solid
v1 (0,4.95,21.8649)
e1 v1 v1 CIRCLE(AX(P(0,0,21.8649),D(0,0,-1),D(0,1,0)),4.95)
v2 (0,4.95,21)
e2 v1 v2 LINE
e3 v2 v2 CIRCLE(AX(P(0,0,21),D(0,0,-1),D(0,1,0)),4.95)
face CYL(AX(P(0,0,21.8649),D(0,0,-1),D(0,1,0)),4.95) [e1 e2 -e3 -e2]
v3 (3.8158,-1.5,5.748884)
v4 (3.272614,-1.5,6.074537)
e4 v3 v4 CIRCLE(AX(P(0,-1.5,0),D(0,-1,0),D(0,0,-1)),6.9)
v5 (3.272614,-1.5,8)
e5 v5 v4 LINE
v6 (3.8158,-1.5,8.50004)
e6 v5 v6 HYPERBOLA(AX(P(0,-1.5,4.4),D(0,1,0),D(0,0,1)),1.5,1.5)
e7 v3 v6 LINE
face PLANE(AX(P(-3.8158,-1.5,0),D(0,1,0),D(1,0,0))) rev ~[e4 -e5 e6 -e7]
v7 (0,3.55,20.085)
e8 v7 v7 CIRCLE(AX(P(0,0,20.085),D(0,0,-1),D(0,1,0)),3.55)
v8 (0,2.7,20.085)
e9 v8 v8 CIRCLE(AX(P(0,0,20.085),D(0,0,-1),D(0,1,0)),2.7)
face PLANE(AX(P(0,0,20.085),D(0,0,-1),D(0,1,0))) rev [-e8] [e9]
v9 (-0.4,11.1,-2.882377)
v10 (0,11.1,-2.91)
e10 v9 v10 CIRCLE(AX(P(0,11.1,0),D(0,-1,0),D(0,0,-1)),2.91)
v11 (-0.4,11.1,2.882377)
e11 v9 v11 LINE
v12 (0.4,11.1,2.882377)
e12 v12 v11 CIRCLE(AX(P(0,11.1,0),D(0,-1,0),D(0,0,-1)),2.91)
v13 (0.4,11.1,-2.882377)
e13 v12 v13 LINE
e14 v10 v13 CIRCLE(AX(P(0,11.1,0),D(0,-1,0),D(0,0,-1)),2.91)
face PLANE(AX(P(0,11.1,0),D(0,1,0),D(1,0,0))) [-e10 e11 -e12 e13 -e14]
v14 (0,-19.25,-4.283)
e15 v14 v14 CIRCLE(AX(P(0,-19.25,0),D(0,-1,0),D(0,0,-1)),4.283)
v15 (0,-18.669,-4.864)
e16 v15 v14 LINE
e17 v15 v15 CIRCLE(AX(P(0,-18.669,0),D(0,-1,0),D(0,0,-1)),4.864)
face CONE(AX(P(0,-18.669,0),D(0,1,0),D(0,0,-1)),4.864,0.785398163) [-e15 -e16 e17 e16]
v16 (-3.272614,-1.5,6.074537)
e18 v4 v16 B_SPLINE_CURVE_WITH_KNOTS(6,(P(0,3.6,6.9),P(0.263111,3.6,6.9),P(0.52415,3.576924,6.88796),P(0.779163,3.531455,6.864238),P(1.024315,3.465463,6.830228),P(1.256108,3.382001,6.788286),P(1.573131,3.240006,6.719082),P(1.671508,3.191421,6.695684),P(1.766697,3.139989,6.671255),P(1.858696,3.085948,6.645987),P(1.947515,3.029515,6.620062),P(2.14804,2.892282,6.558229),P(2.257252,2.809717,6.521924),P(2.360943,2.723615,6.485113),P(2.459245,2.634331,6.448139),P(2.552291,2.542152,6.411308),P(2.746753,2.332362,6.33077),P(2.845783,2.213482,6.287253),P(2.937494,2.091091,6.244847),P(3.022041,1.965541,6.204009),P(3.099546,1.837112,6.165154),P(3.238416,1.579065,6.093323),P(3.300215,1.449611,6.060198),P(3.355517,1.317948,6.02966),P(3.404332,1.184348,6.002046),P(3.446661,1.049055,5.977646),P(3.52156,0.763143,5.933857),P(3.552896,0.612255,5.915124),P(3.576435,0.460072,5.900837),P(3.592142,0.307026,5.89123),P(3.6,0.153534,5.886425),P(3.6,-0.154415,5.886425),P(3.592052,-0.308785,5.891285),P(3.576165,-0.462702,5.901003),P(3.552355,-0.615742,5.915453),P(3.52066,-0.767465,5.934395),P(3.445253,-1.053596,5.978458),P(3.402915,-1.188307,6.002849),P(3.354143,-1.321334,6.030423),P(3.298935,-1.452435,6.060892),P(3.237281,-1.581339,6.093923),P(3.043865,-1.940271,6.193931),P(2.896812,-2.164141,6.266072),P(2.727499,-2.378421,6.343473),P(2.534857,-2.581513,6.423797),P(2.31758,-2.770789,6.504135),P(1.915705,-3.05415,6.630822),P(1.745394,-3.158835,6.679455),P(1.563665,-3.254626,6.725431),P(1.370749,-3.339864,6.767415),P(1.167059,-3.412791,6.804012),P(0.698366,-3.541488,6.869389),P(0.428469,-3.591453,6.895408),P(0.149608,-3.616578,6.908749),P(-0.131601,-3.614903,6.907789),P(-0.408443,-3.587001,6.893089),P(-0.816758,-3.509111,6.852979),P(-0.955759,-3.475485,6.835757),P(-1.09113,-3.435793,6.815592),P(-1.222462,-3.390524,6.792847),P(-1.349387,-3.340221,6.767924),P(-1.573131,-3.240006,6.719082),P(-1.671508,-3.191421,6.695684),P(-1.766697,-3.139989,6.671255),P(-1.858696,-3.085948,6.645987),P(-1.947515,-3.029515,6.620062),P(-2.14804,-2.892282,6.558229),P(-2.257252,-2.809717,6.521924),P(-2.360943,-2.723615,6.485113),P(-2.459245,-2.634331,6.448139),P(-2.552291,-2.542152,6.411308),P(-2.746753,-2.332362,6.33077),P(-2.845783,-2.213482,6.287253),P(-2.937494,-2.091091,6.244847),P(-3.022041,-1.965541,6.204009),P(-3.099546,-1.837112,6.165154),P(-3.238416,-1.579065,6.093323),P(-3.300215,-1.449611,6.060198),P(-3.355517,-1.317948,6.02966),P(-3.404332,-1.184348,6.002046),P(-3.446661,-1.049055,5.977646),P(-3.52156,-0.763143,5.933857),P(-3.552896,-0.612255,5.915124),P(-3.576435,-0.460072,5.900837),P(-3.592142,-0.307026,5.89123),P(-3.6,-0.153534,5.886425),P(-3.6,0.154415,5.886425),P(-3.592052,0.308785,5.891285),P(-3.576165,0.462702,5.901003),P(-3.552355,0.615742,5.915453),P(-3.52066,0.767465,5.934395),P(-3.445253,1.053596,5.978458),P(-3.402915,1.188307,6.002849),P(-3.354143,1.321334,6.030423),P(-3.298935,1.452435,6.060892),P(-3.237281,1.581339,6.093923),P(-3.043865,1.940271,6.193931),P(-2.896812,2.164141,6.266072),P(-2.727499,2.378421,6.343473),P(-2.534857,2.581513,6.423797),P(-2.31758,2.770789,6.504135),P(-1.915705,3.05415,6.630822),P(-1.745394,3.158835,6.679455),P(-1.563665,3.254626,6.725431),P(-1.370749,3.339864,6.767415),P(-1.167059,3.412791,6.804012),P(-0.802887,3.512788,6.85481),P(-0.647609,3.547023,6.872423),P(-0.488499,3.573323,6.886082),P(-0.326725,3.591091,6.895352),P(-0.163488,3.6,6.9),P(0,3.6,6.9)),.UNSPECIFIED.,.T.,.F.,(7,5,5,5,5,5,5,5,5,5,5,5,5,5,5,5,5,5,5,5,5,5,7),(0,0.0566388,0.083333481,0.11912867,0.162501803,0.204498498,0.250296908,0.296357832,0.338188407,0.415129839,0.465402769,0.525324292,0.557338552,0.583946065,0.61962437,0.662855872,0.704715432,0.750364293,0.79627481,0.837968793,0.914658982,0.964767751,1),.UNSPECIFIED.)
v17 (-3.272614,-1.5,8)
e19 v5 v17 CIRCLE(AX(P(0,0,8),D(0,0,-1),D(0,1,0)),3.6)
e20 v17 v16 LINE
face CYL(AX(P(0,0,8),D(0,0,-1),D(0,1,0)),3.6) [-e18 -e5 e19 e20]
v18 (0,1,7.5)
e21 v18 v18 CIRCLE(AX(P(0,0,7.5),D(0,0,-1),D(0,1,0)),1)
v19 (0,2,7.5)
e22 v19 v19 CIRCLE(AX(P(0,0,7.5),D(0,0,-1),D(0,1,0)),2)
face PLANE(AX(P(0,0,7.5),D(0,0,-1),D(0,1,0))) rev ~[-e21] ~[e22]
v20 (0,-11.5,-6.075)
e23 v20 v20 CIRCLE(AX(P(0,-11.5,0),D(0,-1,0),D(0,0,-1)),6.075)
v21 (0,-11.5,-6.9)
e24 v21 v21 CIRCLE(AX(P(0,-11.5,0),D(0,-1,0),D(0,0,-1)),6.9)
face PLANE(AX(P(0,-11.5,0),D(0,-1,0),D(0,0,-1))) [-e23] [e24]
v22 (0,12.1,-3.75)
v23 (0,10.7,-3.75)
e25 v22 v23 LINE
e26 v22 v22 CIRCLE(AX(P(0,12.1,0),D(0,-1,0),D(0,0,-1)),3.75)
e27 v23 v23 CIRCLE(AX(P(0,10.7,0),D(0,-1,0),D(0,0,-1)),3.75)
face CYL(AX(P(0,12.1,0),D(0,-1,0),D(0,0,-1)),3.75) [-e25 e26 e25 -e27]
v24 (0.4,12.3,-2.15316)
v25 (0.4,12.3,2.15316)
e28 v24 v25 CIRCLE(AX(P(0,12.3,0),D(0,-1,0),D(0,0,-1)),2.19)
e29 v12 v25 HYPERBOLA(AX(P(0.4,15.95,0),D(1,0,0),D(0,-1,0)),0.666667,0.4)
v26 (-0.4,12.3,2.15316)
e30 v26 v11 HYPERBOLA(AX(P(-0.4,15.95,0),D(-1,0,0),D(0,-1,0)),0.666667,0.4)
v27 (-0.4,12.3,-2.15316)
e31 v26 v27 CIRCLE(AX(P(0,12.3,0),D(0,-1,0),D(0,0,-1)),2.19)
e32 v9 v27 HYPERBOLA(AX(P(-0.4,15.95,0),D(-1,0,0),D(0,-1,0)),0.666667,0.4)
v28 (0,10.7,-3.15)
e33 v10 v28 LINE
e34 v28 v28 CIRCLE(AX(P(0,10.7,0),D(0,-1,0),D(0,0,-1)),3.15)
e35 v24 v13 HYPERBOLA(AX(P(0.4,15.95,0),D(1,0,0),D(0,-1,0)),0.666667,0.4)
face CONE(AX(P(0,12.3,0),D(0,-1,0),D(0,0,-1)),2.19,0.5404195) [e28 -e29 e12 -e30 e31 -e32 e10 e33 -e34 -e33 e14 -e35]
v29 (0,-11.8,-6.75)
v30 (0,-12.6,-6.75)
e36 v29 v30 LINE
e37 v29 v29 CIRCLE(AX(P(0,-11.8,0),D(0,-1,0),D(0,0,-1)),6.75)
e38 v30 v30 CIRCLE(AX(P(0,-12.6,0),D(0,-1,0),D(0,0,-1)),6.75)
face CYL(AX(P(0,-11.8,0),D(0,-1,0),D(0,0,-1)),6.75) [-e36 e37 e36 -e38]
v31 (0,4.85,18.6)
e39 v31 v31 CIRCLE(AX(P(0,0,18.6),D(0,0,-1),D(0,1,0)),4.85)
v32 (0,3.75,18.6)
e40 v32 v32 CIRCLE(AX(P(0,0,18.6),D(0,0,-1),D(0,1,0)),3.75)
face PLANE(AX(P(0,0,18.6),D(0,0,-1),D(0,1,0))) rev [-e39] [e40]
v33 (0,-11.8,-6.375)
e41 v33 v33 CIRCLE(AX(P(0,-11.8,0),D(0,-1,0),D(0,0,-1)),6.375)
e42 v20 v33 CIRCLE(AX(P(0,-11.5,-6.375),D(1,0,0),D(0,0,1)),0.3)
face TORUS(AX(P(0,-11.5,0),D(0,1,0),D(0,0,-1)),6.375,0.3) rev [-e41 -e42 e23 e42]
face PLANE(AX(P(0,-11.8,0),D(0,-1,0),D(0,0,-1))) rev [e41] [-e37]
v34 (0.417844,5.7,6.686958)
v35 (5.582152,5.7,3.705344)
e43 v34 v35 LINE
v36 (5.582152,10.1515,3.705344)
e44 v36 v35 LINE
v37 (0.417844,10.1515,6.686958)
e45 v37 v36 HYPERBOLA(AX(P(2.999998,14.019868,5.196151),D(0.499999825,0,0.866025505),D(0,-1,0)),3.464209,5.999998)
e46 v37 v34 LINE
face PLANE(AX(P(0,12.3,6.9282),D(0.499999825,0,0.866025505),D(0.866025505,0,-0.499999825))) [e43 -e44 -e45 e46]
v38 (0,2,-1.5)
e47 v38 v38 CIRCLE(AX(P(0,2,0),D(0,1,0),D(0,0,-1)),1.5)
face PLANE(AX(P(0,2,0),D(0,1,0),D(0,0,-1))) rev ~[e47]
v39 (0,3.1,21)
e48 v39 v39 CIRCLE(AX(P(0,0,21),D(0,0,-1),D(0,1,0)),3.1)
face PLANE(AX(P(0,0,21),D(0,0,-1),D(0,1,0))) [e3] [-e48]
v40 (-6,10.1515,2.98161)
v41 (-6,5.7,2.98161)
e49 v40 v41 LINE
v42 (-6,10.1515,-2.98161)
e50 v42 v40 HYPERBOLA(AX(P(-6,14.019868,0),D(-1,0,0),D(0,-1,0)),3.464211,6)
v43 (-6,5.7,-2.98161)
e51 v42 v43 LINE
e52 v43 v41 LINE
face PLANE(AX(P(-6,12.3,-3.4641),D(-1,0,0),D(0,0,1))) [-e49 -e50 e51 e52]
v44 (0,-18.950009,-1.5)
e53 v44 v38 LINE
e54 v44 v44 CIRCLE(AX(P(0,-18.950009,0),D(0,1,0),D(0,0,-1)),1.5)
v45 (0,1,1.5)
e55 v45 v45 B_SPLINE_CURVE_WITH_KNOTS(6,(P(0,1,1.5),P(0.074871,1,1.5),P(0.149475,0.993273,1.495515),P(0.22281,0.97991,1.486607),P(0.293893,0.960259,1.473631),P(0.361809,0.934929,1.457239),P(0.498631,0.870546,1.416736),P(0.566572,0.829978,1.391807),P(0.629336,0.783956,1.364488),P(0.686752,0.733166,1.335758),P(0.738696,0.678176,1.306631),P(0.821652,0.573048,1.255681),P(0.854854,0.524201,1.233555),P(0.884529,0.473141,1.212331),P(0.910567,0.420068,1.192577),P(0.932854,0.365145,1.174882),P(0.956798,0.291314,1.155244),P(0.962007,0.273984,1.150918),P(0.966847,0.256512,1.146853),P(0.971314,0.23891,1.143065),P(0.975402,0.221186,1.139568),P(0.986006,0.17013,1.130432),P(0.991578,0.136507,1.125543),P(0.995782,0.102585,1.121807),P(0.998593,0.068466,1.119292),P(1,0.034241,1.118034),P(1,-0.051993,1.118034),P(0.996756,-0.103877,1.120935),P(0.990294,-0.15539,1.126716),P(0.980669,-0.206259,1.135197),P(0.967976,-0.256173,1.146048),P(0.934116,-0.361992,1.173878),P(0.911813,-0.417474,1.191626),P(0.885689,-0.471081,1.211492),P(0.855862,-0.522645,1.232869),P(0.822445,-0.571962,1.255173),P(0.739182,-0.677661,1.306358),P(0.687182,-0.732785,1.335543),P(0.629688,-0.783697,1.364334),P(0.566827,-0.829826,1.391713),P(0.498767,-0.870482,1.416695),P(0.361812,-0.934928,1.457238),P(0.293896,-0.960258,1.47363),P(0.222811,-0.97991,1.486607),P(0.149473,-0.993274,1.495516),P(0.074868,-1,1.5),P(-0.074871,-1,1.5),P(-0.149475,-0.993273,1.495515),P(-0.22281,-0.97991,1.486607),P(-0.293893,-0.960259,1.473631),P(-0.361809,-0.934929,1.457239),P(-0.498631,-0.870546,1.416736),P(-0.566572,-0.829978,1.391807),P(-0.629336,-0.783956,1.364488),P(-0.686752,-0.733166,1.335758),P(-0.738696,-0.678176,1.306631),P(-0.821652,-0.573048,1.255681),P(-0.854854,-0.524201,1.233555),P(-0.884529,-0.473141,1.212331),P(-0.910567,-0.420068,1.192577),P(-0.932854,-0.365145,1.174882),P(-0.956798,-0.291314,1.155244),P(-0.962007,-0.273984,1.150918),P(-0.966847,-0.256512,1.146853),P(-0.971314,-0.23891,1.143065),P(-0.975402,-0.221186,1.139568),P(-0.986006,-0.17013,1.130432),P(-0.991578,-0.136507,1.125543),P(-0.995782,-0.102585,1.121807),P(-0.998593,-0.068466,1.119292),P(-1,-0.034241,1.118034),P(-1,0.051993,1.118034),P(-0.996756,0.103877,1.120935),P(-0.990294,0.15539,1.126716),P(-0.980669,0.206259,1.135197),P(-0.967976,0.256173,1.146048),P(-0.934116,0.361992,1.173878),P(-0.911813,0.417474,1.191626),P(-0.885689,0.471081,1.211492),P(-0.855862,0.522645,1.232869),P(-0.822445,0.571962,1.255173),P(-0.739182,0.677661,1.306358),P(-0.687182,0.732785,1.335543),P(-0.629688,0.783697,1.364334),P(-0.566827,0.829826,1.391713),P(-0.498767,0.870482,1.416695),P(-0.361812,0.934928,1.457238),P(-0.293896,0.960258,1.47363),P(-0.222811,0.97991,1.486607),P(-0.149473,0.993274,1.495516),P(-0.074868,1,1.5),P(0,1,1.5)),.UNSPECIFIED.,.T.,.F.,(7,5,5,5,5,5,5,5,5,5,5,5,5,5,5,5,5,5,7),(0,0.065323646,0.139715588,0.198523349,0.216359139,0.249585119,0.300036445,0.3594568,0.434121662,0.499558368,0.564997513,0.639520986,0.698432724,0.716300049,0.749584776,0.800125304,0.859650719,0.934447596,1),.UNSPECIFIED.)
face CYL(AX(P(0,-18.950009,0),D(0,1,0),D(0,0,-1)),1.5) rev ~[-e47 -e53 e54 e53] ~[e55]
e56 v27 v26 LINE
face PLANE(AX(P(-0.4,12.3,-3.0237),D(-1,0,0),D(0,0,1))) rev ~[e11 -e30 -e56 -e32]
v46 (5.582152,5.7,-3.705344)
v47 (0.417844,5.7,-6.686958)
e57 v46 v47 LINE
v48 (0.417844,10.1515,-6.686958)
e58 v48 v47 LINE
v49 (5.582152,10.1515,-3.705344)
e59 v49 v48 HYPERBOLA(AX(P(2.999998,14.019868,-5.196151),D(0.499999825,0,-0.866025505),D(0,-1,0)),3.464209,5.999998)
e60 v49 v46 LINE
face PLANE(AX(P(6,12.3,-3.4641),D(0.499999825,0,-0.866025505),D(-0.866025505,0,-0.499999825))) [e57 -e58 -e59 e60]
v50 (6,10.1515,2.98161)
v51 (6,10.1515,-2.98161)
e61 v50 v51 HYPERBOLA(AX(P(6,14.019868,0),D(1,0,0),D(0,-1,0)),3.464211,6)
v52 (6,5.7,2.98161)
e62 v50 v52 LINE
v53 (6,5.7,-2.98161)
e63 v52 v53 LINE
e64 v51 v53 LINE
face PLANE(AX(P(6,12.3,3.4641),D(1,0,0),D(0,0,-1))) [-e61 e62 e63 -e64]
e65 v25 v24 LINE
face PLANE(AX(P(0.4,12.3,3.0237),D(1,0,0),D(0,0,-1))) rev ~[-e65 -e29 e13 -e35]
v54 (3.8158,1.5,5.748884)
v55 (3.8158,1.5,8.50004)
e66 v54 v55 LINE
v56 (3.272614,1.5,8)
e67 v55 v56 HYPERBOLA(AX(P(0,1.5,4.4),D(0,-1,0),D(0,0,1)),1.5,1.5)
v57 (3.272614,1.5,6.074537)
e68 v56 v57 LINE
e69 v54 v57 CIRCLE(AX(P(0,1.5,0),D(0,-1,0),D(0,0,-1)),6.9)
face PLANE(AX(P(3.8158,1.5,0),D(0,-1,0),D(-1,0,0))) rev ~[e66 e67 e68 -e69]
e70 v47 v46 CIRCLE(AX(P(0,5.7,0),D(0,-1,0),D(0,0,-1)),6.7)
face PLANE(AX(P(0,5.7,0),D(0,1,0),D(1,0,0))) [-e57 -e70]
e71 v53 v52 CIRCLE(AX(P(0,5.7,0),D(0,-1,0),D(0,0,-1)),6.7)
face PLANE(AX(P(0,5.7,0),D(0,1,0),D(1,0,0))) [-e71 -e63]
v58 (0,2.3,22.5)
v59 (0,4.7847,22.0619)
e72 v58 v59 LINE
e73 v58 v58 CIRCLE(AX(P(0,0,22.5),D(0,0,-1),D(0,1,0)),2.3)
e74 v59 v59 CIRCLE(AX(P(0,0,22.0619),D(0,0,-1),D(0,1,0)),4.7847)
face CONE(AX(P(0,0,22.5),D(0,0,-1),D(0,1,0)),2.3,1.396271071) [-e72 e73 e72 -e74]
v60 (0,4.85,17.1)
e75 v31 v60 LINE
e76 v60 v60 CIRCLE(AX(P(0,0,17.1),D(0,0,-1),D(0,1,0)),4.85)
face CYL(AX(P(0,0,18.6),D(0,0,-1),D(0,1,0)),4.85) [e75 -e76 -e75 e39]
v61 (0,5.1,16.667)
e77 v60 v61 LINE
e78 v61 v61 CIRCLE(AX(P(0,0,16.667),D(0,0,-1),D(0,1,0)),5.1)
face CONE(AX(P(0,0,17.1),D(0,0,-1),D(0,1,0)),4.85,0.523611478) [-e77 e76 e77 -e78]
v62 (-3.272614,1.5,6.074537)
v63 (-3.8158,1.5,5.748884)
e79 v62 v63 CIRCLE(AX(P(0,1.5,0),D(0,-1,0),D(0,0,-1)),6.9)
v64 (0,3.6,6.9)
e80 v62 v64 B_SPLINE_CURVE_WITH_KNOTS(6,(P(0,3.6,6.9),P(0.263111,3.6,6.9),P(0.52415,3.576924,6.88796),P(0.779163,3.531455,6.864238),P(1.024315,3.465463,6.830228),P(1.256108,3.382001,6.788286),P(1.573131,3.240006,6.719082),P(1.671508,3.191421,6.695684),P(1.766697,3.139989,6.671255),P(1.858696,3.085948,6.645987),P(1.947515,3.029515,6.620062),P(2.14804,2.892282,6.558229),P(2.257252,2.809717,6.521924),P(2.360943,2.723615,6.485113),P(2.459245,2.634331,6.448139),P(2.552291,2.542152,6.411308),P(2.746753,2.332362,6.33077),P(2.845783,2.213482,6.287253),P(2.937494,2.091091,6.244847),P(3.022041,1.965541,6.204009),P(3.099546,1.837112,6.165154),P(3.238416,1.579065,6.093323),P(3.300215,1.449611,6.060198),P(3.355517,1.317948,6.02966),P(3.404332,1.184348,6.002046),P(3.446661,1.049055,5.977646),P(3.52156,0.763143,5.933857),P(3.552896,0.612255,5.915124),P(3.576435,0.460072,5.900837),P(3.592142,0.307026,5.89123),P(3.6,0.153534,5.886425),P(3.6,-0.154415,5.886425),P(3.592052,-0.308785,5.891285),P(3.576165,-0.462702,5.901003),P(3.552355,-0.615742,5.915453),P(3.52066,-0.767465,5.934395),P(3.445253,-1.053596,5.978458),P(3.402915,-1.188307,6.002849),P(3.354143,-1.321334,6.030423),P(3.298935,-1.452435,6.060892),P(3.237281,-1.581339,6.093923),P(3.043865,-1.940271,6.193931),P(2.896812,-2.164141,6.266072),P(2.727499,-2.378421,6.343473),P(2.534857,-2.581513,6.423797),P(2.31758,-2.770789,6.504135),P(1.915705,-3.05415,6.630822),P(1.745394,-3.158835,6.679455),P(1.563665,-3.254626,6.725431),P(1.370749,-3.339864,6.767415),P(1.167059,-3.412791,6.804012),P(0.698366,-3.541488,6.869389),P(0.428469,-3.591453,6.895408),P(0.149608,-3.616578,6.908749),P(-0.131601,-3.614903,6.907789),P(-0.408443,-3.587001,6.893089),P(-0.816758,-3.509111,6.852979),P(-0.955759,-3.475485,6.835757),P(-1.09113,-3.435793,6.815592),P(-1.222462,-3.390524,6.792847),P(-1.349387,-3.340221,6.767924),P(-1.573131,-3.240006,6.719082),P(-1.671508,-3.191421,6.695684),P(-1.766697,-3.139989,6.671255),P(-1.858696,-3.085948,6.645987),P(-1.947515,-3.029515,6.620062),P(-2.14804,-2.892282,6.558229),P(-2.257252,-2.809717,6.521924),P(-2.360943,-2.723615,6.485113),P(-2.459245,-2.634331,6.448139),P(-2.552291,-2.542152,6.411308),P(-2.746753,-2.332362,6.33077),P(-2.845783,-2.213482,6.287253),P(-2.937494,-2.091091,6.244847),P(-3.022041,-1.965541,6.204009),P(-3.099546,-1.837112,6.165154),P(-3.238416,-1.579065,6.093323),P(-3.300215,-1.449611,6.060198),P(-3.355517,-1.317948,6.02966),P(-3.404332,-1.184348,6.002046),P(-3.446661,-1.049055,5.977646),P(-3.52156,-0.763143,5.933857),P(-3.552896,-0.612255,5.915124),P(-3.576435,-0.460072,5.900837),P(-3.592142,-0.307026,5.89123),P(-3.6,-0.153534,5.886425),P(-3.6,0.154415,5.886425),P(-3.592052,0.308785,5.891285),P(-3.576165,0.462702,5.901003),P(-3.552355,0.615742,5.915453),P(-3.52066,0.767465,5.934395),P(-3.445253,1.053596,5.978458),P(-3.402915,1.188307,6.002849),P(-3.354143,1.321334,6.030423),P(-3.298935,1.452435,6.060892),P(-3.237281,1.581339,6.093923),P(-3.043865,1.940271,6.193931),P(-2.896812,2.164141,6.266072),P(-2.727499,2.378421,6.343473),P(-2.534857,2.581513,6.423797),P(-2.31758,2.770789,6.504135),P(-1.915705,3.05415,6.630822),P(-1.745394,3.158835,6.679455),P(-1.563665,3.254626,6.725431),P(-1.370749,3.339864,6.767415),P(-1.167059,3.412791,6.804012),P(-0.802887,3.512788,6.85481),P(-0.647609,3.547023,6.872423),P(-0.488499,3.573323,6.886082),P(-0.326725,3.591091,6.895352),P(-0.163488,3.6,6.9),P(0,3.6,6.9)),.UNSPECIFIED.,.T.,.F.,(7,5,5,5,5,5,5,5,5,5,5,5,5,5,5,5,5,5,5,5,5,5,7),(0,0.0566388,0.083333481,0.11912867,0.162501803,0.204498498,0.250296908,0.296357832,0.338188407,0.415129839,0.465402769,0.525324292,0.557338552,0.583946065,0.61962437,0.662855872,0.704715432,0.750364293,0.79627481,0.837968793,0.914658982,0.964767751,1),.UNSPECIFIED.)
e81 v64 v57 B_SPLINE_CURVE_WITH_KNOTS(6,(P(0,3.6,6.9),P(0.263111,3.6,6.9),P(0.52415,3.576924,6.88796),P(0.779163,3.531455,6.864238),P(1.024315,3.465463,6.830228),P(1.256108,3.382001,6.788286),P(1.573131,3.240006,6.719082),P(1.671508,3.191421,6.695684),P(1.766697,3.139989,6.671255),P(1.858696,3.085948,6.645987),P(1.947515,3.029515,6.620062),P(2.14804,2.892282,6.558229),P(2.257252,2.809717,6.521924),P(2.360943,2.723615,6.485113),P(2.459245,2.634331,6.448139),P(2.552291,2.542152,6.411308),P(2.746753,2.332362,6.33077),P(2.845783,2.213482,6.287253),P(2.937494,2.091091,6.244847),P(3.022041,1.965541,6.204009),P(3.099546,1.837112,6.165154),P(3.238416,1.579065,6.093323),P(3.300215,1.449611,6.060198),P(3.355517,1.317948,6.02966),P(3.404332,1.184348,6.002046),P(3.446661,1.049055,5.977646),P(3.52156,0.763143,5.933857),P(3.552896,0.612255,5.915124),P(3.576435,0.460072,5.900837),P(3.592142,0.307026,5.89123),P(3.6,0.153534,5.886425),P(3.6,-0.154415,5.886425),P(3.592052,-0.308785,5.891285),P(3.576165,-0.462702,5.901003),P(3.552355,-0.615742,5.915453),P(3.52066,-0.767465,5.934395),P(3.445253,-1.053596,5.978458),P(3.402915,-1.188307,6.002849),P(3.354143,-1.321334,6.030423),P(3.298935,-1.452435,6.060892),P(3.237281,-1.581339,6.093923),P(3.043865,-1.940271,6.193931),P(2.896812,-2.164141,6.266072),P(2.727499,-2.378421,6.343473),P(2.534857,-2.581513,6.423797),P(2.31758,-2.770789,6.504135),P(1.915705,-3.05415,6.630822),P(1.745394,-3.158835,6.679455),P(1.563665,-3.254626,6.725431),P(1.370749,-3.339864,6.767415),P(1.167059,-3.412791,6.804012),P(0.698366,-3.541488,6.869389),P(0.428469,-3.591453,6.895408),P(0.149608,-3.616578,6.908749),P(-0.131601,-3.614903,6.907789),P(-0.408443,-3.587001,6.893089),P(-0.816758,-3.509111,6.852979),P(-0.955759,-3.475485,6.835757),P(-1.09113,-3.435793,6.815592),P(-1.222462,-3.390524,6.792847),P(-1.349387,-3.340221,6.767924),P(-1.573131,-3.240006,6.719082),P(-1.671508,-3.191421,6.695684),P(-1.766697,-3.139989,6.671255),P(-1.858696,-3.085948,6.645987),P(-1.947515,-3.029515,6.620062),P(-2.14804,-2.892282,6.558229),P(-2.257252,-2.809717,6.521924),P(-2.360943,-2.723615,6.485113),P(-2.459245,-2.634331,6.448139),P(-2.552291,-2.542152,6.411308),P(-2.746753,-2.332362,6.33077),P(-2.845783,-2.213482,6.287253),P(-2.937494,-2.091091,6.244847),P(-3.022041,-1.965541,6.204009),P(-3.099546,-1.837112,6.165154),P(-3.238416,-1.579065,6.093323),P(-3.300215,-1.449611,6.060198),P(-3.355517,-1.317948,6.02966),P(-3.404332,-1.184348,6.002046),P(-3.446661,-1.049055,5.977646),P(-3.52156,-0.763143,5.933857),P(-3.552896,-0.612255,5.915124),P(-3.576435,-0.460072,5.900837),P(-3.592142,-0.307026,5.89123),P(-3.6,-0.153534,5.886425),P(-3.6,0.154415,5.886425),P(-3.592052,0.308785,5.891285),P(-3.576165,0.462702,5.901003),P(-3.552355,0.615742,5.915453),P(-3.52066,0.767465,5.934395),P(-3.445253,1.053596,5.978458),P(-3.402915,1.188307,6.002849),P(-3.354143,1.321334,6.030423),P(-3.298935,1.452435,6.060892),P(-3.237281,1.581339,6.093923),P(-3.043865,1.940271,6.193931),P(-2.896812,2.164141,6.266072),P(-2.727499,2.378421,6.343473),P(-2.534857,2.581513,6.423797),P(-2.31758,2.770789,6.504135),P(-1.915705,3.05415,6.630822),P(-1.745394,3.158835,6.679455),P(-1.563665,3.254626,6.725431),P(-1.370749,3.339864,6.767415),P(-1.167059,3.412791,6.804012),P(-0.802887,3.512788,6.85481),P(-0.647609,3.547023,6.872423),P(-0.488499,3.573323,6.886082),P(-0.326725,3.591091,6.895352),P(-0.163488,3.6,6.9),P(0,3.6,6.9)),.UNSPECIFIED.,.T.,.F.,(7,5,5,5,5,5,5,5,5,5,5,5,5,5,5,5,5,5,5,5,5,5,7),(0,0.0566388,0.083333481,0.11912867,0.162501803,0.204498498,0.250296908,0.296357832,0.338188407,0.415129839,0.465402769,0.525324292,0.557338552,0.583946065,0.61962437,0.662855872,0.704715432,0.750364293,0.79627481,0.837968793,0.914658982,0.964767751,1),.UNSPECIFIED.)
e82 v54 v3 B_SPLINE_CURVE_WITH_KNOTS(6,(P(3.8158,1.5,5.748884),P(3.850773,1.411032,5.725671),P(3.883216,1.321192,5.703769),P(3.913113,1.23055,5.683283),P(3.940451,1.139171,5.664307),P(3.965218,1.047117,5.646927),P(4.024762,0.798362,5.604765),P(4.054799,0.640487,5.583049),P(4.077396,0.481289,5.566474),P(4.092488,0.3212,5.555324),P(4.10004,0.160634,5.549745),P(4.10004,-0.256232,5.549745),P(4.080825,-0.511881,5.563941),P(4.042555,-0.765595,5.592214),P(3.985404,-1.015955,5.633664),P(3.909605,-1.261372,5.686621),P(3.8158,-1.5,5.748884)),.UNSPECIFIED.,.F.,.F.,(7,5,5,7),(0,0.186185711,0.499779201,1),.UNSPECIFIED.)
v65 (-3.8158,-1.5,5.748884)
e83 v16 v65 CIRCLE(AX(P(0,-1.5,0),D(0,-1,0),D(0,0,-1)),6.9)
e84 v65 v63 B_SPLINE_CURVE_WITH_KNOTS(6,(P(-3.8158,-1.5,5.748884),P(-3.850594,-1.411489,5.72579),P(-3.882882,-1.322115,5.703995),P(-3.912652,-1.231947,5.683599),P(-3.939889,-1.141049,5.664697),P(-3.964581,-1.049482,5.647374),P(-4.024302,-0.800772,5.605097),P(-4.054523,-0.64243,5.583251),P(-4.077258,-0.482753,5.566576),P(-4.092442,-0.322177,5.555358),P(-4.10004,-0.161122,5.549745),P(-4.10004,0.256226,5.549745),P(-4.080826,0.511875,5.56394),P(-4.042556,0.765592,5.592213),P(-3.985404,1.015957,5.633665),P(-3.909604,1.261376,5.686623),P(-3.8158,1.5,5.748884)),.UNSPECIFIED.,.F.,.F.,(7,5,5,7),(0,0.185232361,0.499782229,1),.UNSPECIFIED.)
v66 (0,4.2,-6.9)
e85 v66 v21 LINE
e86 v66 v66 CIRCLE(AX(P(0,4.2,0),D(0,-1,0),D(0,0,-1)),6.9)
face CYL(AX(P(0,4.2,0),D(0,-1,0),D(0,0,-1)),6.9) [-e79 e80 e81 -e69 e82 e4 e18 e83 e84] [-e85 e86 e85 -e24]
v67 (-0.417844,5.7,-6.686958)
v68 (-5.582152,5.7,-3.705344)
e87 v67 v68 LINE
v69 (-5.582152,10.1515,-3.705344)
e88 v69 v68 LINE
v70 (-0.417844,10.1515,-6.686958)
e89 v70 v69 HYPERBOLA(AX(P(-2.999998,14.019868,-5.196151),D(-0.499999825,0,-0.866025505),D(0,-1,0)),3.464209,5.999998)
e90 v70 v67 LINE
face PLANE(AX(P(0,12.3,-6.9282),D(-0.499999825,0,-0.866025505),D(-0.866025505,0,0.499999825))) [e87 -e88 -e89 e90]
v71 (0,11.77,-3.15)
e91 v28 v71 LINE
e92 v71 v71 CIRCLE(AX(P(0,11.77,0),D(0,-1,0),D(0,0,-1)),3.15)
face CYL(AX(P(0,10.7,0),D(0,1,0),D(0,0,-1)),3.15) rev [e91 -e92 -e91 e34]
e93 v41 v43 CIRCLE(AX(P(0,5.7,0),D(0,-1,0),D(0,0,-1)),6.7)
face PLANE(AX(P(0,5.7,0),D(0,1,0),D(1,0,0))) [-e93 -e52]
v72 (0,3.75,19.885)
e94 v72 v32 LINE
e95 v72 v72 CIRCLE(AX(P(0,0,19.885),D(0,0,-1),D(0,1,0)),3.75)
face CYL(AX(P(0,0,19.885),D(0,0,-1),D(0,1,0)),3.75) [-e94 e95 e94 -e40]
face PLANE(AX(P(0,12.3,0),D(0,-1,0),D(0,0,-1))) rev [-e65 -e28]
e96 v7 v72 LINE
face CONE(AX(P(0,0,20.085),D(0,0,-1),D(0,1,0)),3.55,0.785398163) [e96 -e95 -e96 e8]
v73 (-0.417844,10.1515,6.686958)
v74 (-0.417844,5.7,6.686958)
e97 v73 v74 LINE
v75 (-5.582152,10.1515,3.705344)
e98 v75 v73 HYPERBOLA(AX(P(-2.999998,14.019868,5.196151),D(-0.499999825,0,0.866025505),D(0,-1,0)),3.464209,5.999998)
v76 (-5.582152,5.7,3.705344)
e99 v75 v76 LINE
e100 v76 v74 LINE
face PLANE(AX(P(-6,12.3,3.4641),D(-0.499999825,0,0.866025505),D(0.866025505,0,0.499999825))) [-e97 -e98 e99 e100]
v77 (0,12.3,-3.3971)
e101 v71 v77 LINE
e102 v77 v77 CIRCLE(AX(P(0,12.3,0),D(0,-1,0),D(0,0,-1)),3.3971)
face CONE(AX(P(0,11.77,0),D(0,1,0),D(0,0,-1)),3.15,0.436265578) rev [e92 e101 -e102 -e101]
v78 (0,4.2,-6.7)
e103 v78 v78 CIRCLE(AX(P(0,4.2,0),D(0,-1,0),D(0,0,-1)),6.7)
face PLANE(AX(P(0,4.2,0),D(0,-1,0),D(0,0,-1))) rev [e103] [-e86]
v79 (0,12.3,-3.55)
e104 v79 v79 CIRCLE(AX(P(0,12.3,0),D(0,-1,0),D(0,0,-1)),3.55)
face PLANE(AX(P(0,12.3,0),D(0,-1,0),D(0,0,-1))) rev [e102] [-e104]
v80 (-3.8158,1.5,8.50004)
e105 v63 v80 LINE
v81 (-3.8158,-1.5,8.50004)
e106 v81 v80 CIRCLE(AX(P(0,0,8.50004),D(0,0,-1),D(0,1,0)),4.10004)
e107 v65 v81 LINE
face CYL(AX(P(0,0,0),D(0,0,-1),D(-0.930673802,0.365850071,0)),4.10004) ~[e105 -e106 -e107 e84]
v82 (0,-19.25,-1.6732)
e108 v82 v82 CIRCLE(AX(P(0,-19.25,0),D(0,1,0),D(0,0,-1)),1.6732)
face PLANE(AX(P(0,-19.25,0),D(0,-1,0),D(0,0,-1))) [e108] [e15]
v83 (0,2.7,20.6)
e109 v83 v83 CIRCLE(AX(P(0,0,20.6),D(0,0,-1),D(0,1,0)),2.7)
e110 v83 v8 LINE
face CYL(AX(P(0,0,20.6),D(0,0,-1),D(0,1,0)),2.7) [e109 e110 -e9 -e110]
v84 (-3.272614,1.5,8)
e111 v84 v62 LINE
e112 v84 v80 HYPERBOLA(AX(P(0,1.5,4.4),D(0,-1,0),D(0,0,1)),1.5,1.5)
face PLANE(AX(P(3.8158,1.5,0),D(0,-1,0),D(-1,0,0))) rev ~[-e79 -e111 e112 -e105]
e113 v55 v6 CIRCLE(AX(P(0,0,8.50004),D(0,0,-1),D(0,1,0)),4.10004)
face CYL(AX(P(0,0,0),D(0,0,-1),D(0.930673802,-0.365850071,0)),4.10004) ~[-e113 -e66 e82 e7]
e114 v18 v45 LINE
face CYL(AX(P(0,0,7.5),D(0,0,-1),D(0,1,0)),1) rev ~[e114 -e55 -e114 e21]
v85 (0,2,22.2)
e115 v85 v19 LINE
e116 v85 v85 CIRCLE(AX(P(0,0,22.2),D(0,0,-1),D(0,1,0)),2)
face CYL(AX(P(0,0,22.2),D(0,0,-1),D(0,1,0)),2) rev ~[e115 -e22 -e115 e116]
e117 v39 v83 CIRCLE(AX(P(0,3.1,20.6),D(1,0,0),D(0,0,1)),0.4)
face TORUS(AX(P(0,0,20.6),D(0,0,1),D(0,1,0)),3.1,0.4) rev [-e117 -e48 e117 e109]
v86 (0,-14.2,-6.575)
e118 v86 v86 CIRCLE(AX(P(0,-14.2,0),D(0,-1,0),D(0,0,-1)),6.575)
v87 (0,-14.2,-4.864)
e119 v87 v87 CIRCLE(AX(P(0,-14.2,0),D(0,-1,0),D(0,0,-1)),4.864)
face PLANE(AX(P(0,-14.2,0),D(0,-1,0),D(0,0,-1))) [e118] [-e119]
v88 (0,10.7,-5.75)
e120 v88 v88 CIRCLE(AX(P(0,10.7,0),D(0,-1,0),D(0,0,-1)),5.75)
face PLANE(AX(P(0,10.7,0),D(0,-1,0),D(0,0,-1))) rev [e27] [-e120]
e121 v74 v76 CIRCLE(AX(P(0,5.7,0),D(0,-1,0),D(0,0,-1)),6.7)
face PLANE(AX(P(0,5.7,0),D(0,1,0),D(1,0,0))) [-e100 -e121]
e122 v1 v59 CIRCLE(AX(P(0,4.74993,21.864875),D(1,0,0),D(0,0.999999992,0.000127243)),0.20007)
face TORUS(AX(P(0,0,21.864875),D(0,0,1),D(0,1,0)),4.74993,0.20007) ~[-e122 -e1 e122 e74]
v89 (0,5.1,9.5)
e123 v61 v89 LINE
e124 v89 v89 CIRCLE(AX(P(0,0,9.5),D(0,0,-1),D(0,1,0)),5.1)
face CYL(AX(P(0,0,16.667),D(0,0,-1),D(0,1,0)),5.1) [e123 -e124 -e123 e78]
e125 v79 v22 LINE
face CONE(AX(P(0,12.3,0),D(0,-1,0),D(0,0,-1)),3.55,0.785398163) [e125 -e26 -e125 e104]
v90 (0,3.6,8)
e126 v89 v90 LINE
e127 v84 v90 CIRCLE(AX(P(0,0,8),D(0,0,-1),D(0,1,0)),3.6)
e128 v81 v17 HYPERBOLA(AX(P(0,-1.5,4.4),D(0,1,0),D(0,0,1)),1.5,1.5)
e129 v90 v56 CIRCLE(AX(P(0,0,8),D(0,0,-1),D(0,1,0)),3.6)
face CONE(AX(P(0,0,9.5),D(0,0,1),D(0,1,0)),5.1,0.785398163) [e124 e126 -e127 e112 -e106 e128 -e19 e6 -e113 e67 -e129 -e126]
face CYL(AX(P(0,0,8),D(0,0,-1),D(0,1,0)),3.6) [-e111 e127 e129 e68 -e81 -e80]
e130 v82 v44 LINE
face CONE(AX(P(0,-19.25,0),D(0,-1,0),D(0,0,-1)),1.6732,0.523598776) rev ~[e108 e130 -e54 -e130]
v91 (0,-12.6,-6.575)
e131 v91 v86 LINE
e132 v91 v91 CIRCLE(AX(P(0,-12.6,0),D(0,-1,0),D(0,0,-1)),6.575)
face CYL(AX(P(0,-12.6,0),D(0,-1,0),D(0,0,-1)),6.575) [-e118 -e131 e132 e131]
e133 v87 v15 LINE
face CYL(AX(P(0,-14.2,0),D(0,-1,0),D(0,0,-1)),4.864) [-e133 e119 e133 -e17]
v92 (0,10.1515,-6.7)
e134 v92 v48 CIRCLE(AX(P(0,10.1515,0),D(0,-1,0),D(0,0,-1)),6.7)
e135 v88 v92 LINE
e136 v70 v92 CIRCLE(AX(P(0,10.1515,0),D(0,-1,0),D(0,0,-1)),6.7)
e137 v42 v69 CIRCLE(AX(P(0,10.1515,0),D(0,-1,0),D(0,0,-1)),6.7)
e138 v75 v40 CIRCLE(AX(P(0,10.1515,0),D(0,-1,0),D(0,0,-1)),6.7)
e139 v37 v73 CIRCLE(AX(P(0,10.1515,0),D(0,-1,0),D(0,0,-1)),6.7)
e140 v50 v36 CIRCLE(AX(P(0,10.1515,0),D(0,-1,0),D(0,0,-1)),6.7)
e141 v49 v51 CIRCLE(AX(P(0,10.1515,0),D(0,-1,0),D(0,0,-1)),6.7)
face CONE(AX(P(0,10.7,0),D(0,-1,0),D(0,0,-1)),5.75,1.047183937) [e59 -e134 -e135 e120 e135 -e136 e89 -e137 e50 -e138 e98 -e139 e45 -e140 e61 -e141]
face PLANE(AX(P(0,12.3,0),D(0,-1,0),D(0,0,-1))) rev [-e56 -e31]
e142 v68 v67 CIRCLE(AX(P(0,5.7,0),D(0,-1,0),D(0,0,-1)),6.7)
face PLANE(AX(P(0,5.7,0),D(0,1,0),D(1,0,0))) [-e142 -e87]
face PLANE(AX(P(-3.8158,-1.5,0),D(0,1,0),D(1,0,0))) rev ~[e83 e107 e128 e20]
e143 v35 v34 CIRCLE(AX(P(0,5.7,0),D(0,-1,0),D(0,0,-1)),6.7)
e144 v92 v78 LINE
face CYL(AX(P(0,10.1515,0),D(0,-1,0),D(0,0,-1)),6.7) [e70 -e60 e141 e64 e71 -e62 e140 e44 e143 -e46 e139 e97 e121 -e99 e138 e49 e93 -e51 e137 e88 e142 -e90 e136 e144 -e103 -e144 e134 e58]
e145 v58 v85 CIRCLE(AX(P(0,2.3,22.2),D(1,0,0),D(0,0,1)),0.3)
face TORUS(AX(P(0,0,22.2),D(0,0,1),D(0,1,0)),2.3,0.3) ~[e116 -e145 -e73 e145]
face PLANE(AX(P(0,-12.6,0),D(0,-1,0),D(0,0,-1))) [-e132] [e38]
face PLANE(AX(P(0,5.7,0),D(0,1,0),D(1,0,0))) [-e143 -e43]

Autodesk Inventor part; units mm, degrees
sketch "Sketch_14" plane through (0, 0, 0) normal (1, 0, 0) x (0, 1, 0)
  line L0 (-19.25, 0) -> (12.3, 0)
  line L1 (12.3, 0) -> (12.3, -2.19)
  line L2 (12.3, -2.19) -> (10.7, -3.15)
  line L3 (10.7, -3.15) -> (11.77, -3.15)
  line L4 (11.77, -3.15) -> (12.3, -3.3971)
  line L5 (12.3, -3.3971) -> (12.3, -3.55)
  line L6 (12.3, -3.55) -> (12.1, -3.75)
  line L7 (12.1, -3.75) -> (10.7, -3.75)
  line L8 (10.7, -3.75) -> (10.7, -5.75)
  line L9 (10.7, -5.75) -> (10.1515, -6.7)
  line L10 (10.1515, -6.7) -> (4.2, -6.7)
  line L11 (4.2, -6.7) -> (4.2, -6.9)
  line L12 (4.2, -6.9) -> (-11.5, -6.9)
  line L13 (-11.5, -6.9) -> (-11.5, -6.075)
  arc A0 (-11.5, -6.075) -> (-11.8, -6.375) centre (-11.5, -6.375) ccw
  line L14 (-11.8, -6.375) -> (-11.8, -6.75)
  line L15 (-11.8, -6.75) -> (-12.6, -6.75)
  line L16 (-12.6, -6.75) -> (-12.6, -6.575)
  line L17 (-12.6, -6.575) -> (-14.2, -6.575)
  line L18 (-14.2, -6.575) -> (-14.2, -4.864)
  line L19 (-14.2, -4.864) -> (-18.669, -4.864)
  line L20 (-18.669, -4.864) -> (-19.25, -4.283)
  line L21 (-19.25, -4.283) -> (-19.25, 0)
  line L22 (-19.25, 0) -> (12.3, 0)
revolve "Revolution1" add sketch "Sketch_14" angle 360 about axis through (0, -19.25, 0) along (0, -1, 0)
thread "Thread1" size "G9.728x0.907" designation "G 1/8" class "A" standard "ISO Pipe Threads" full length
sketch "Sketch_15" plane through (0, 12.3, 0) normal (0, 1, 0) x (1, 0, 0)
  line L0 (-12, -6.9282) -> (0, -13.8564)
  line L1 (0, -13.8564) -> (12, -6.9282)
  line L2 (12, -6.9282) -> (12, 6.9282)
  line L3 (12, 6.9282) -> (0, 13.8564)
  line L4 (0, 13.8564) -> (-12, 6.9282)
  line L5 (-12, 6.9282) -> (-12, -6.9282)
  line L6 (-6, -3.4641) -> (0, -6.9282)
  line L7 (0, -6.9282) -> (6, -3.4641)
  line L8 (6, -3.4641) -> (6, 3.4641)
  line L9 (6, 3.4641) -> (0, 6.9282)
  line L10 (0, 6.9282) -> (-6, 3.4641)
  line L11 (-6, 3.4641) -> (-6, -3.4641)
extrude "Extrusion1" cut sketch "Sketch_15" against normal blind 6.6
sketch "Sketch_16" plane through (0, 12.3, 0) normal (0, 1, 0) x (1, 0, 0)
  line L0 (-0.4, 3.0237) -> (-0.4, -3.0237)
  arc A0 (-0.4, -3.0237) -> (0.4, -3.0237) centre (0, 0) ccw
  line L1 (0.4, -3.0237) -> (0.4, 3.0237)
  arc A1 (0.4, 3.0237) -> (-0.4, 3.0237) centre (0, 0) ccw
extrude "Extrusion2" cut sketch "Sketch_16" against normal blind 1.2
sketch "Sketch_11" plane through (0, 0, 0) normal (1, 0, 0) x (0, 1, 0)
  line L0 (0, 0) -> (0, 22.5)
  line L1 (0, 22.5) -> (2.3, 22.5)
  line L2 (2.3, 22.5) -> (4.7847, 22.0619)
  arc A0 (4.95, 21.8649) -> (4.7847, 22.0619) centre (4.75, 21.8649) ccw
  line L3 (4.95, 21.8649) -> (4.95, 21)
  line L4 (4.95, 21) -> (3.1, 21)
  arc A1 (3.1, 21) -> (2.7, 20.6) centre (3.1, 20.6) ccw
  line L5 (2.7, 20.6) -> (2.7, 20)
  line L6 (2.7, 20) -> (3.55, 20)
  line L7 (3.55, 20) -> (3.75, 19.8)
  line L8 (3.75, 19.8) -> (3.75, 18.6)
  line L9 (3.75, 18.6) -> (4.85, 18.6)
  line L10 (4.85, 18.6) -> (4.85, 17.1)
  line L11 (4.85, 17.1) -> (5.1, 16.667)
  line L12 (5.1, 16.667) -> (5.1, 9.5)
  line L13 (5.1, 9.5) -> (3.6, 8)
  line L14 (3.6, 8) -> (3.6, 0)
  line L15 (3.6, 0) -> (0, 0)
  line L16 (0, 0) -> (0, 22.5)
revolve "Revolution2" add sketch "Sketch_11" angle 360 about axis through (0, 0, 0) along (0, 0, -1)
sketch "Sketch_17" plane through (0, 0, 0) normal (1, 0, 0) x (0, 1, 0)
  line L0 (0, 0) -> (0, 22.5)
  line L1 (0, 22.5) -> (2.3, 22.5)
  line L2 (2.3, 22.5) -> (4.7847, 22.0619)
  arc A0 (4.95, 21.8649) -> (4.7847, 22.0619) centre (4.75, 21.8649) ccw
  line L3 (4.95, 21.8649) -> (4.95, 21)
  line L4 (4.95, 21) -> (3.1, 21)
  arc A1 (3.1, 21) -> (2.7, 20.6) centre (3.1, 20.6) ccw
  line L5 (2.7, 20.6) -> (2.7, 20.085)
  line L6 (2.7, 20.085) -> (3.55, 20.085)
  line L7 (3.55, 20.085) -> (3.75, 19.885)
  line L8 (3.75, 19.885) -> (3.75, 18.6)
  line L9 (3.75, 18.6) -> (4.85, 18.6)
  line L10 (4.85, 18.6) -> (4.85, 17.1)
  line L11 (4.85, 17.1) -> (5.1, 16.667)
  line L12 (5.1, 16.667) -> (5.1, 9.5)
  line L13 (5.1, 9.5) -> (3.6, 8)
  line L14 (3.6, 8) -> (3.6, 0)
  line L15 (3.6, 0) -> (0, 0)
  line L16 (0, 0) -> (0, 22.5)
revolve "Revolution3" add sketch "Sketch_17" angle 360 about axis through (0, 0, 0) along (0, 0, -1)
sketch "Sketch_18" plane through (0, 0, 0) normal (0, 0, 1) x (1, 0, 0)
  arc A0 (-3.8158, 1.5) -> (-3.8158, -1.5) centre (0, 0) ccw
  line L0 (-3.8158, -1.5) -> (3.8158, -1.5)
  arc A1 (3.8158, -1.5) -> (3.8158, 1.5) centre (0, 0) ccw
  line L1 (3.8158, 1.5) -> (-3.8158, 1.5)
extrude "Extrusion3" add sketch "Sketch_18" along normal blind 11.25
sketch "Sketch_5" plane through (0, 0, 0) normal (1, 0, 0) x (0, 1, 0)
  line L0 (0, 0) -> (0, 22.5)
  line L1 (0, 22.5) -> (2.3, 22.5)
  arc A0 (2.3, 22.5) -> (2, 22.2) centre (2.3, 22.2) ccw
  line L2 (2, 22.2) -> (2, 7.5)
  line L3 (2, 7.5) -> (1, 7.5)
  line L4 (1, 7.5) -> (1, 0)
  line L5 (1, 0) -> (0, 0)
  line L6 (0, 0) -> (0, 22.5)
revolve "Revolution4" cut sketch "Sketch_5" angle 360 about axis through (0, 0, 0) along (0, 0, -1)
sketch "Sketch8" plane through (0, -19.25, 0) normal (0, -1, 0) x (1, 0, 0)
  point P0 (0, 0)
hole "Hole1" at (0, -19.25, 0) direction (0, 1, 0) diameter 3 depth 21.25 countersink diameter 3.3464 countersink angle 60
ref_plane "FDT_MOUNT_XY" through (0, -14.2, 0) normal (0, 1, 0) x (-1, 0, 0)
ref_plane "FDT_MOUNT_YZ" through (0, -14.2, 0) normal (-1, 0, 0) x (0, 0, 1)
ref_plane "FDT_MOUNT_ZX" through (0, -14.2, 0) normal (0, 0, 1) x (0, 1, 0)
ref_plane "FDT_SCHLAUCH_XY" through (0, 0, 7.5) normal (0, 0, 1) x (1, 0, 0)
ref_plane "FDT_SCHLAUCH_YZ" through (0, 0, 7.5) normal (1, 0, 0) x (0, 1, 0)
ref_plane "FDT_SCHLAUCH_ZX" through (0, 0, 7.5) normal (0, 1, 0) x (0, 0, 1)
ref_plane "Zylinder_XY" through (0, -19.25, 0) normal (0, 1, 0) x (1, 0, 0)
ref_plane "Zylinder_YZ" through (0, -19.25, 0) normal (1, 0, 0) x (0, 0, -1)
ref_plane "Zylinder_ZX" through (0, -19.25, 0) normal (0, 0, -1) x (0, 1, 0)
ref_plane "anbau_XY" through (0, -14.2, 0) normal (0, 1, 0) x (1, 0, 0)
ref_plane "anbau_YZ" through (0, -14.2, 0) normal (1, 0, 0) x (0, 0, -1)
ref_plane "anbau_ZX" through (0, -14.2, 0) normal (0, 0, -1) x (0, 1, 0)
properties part number "193143 GRLA-1/8-QS-4-D"
